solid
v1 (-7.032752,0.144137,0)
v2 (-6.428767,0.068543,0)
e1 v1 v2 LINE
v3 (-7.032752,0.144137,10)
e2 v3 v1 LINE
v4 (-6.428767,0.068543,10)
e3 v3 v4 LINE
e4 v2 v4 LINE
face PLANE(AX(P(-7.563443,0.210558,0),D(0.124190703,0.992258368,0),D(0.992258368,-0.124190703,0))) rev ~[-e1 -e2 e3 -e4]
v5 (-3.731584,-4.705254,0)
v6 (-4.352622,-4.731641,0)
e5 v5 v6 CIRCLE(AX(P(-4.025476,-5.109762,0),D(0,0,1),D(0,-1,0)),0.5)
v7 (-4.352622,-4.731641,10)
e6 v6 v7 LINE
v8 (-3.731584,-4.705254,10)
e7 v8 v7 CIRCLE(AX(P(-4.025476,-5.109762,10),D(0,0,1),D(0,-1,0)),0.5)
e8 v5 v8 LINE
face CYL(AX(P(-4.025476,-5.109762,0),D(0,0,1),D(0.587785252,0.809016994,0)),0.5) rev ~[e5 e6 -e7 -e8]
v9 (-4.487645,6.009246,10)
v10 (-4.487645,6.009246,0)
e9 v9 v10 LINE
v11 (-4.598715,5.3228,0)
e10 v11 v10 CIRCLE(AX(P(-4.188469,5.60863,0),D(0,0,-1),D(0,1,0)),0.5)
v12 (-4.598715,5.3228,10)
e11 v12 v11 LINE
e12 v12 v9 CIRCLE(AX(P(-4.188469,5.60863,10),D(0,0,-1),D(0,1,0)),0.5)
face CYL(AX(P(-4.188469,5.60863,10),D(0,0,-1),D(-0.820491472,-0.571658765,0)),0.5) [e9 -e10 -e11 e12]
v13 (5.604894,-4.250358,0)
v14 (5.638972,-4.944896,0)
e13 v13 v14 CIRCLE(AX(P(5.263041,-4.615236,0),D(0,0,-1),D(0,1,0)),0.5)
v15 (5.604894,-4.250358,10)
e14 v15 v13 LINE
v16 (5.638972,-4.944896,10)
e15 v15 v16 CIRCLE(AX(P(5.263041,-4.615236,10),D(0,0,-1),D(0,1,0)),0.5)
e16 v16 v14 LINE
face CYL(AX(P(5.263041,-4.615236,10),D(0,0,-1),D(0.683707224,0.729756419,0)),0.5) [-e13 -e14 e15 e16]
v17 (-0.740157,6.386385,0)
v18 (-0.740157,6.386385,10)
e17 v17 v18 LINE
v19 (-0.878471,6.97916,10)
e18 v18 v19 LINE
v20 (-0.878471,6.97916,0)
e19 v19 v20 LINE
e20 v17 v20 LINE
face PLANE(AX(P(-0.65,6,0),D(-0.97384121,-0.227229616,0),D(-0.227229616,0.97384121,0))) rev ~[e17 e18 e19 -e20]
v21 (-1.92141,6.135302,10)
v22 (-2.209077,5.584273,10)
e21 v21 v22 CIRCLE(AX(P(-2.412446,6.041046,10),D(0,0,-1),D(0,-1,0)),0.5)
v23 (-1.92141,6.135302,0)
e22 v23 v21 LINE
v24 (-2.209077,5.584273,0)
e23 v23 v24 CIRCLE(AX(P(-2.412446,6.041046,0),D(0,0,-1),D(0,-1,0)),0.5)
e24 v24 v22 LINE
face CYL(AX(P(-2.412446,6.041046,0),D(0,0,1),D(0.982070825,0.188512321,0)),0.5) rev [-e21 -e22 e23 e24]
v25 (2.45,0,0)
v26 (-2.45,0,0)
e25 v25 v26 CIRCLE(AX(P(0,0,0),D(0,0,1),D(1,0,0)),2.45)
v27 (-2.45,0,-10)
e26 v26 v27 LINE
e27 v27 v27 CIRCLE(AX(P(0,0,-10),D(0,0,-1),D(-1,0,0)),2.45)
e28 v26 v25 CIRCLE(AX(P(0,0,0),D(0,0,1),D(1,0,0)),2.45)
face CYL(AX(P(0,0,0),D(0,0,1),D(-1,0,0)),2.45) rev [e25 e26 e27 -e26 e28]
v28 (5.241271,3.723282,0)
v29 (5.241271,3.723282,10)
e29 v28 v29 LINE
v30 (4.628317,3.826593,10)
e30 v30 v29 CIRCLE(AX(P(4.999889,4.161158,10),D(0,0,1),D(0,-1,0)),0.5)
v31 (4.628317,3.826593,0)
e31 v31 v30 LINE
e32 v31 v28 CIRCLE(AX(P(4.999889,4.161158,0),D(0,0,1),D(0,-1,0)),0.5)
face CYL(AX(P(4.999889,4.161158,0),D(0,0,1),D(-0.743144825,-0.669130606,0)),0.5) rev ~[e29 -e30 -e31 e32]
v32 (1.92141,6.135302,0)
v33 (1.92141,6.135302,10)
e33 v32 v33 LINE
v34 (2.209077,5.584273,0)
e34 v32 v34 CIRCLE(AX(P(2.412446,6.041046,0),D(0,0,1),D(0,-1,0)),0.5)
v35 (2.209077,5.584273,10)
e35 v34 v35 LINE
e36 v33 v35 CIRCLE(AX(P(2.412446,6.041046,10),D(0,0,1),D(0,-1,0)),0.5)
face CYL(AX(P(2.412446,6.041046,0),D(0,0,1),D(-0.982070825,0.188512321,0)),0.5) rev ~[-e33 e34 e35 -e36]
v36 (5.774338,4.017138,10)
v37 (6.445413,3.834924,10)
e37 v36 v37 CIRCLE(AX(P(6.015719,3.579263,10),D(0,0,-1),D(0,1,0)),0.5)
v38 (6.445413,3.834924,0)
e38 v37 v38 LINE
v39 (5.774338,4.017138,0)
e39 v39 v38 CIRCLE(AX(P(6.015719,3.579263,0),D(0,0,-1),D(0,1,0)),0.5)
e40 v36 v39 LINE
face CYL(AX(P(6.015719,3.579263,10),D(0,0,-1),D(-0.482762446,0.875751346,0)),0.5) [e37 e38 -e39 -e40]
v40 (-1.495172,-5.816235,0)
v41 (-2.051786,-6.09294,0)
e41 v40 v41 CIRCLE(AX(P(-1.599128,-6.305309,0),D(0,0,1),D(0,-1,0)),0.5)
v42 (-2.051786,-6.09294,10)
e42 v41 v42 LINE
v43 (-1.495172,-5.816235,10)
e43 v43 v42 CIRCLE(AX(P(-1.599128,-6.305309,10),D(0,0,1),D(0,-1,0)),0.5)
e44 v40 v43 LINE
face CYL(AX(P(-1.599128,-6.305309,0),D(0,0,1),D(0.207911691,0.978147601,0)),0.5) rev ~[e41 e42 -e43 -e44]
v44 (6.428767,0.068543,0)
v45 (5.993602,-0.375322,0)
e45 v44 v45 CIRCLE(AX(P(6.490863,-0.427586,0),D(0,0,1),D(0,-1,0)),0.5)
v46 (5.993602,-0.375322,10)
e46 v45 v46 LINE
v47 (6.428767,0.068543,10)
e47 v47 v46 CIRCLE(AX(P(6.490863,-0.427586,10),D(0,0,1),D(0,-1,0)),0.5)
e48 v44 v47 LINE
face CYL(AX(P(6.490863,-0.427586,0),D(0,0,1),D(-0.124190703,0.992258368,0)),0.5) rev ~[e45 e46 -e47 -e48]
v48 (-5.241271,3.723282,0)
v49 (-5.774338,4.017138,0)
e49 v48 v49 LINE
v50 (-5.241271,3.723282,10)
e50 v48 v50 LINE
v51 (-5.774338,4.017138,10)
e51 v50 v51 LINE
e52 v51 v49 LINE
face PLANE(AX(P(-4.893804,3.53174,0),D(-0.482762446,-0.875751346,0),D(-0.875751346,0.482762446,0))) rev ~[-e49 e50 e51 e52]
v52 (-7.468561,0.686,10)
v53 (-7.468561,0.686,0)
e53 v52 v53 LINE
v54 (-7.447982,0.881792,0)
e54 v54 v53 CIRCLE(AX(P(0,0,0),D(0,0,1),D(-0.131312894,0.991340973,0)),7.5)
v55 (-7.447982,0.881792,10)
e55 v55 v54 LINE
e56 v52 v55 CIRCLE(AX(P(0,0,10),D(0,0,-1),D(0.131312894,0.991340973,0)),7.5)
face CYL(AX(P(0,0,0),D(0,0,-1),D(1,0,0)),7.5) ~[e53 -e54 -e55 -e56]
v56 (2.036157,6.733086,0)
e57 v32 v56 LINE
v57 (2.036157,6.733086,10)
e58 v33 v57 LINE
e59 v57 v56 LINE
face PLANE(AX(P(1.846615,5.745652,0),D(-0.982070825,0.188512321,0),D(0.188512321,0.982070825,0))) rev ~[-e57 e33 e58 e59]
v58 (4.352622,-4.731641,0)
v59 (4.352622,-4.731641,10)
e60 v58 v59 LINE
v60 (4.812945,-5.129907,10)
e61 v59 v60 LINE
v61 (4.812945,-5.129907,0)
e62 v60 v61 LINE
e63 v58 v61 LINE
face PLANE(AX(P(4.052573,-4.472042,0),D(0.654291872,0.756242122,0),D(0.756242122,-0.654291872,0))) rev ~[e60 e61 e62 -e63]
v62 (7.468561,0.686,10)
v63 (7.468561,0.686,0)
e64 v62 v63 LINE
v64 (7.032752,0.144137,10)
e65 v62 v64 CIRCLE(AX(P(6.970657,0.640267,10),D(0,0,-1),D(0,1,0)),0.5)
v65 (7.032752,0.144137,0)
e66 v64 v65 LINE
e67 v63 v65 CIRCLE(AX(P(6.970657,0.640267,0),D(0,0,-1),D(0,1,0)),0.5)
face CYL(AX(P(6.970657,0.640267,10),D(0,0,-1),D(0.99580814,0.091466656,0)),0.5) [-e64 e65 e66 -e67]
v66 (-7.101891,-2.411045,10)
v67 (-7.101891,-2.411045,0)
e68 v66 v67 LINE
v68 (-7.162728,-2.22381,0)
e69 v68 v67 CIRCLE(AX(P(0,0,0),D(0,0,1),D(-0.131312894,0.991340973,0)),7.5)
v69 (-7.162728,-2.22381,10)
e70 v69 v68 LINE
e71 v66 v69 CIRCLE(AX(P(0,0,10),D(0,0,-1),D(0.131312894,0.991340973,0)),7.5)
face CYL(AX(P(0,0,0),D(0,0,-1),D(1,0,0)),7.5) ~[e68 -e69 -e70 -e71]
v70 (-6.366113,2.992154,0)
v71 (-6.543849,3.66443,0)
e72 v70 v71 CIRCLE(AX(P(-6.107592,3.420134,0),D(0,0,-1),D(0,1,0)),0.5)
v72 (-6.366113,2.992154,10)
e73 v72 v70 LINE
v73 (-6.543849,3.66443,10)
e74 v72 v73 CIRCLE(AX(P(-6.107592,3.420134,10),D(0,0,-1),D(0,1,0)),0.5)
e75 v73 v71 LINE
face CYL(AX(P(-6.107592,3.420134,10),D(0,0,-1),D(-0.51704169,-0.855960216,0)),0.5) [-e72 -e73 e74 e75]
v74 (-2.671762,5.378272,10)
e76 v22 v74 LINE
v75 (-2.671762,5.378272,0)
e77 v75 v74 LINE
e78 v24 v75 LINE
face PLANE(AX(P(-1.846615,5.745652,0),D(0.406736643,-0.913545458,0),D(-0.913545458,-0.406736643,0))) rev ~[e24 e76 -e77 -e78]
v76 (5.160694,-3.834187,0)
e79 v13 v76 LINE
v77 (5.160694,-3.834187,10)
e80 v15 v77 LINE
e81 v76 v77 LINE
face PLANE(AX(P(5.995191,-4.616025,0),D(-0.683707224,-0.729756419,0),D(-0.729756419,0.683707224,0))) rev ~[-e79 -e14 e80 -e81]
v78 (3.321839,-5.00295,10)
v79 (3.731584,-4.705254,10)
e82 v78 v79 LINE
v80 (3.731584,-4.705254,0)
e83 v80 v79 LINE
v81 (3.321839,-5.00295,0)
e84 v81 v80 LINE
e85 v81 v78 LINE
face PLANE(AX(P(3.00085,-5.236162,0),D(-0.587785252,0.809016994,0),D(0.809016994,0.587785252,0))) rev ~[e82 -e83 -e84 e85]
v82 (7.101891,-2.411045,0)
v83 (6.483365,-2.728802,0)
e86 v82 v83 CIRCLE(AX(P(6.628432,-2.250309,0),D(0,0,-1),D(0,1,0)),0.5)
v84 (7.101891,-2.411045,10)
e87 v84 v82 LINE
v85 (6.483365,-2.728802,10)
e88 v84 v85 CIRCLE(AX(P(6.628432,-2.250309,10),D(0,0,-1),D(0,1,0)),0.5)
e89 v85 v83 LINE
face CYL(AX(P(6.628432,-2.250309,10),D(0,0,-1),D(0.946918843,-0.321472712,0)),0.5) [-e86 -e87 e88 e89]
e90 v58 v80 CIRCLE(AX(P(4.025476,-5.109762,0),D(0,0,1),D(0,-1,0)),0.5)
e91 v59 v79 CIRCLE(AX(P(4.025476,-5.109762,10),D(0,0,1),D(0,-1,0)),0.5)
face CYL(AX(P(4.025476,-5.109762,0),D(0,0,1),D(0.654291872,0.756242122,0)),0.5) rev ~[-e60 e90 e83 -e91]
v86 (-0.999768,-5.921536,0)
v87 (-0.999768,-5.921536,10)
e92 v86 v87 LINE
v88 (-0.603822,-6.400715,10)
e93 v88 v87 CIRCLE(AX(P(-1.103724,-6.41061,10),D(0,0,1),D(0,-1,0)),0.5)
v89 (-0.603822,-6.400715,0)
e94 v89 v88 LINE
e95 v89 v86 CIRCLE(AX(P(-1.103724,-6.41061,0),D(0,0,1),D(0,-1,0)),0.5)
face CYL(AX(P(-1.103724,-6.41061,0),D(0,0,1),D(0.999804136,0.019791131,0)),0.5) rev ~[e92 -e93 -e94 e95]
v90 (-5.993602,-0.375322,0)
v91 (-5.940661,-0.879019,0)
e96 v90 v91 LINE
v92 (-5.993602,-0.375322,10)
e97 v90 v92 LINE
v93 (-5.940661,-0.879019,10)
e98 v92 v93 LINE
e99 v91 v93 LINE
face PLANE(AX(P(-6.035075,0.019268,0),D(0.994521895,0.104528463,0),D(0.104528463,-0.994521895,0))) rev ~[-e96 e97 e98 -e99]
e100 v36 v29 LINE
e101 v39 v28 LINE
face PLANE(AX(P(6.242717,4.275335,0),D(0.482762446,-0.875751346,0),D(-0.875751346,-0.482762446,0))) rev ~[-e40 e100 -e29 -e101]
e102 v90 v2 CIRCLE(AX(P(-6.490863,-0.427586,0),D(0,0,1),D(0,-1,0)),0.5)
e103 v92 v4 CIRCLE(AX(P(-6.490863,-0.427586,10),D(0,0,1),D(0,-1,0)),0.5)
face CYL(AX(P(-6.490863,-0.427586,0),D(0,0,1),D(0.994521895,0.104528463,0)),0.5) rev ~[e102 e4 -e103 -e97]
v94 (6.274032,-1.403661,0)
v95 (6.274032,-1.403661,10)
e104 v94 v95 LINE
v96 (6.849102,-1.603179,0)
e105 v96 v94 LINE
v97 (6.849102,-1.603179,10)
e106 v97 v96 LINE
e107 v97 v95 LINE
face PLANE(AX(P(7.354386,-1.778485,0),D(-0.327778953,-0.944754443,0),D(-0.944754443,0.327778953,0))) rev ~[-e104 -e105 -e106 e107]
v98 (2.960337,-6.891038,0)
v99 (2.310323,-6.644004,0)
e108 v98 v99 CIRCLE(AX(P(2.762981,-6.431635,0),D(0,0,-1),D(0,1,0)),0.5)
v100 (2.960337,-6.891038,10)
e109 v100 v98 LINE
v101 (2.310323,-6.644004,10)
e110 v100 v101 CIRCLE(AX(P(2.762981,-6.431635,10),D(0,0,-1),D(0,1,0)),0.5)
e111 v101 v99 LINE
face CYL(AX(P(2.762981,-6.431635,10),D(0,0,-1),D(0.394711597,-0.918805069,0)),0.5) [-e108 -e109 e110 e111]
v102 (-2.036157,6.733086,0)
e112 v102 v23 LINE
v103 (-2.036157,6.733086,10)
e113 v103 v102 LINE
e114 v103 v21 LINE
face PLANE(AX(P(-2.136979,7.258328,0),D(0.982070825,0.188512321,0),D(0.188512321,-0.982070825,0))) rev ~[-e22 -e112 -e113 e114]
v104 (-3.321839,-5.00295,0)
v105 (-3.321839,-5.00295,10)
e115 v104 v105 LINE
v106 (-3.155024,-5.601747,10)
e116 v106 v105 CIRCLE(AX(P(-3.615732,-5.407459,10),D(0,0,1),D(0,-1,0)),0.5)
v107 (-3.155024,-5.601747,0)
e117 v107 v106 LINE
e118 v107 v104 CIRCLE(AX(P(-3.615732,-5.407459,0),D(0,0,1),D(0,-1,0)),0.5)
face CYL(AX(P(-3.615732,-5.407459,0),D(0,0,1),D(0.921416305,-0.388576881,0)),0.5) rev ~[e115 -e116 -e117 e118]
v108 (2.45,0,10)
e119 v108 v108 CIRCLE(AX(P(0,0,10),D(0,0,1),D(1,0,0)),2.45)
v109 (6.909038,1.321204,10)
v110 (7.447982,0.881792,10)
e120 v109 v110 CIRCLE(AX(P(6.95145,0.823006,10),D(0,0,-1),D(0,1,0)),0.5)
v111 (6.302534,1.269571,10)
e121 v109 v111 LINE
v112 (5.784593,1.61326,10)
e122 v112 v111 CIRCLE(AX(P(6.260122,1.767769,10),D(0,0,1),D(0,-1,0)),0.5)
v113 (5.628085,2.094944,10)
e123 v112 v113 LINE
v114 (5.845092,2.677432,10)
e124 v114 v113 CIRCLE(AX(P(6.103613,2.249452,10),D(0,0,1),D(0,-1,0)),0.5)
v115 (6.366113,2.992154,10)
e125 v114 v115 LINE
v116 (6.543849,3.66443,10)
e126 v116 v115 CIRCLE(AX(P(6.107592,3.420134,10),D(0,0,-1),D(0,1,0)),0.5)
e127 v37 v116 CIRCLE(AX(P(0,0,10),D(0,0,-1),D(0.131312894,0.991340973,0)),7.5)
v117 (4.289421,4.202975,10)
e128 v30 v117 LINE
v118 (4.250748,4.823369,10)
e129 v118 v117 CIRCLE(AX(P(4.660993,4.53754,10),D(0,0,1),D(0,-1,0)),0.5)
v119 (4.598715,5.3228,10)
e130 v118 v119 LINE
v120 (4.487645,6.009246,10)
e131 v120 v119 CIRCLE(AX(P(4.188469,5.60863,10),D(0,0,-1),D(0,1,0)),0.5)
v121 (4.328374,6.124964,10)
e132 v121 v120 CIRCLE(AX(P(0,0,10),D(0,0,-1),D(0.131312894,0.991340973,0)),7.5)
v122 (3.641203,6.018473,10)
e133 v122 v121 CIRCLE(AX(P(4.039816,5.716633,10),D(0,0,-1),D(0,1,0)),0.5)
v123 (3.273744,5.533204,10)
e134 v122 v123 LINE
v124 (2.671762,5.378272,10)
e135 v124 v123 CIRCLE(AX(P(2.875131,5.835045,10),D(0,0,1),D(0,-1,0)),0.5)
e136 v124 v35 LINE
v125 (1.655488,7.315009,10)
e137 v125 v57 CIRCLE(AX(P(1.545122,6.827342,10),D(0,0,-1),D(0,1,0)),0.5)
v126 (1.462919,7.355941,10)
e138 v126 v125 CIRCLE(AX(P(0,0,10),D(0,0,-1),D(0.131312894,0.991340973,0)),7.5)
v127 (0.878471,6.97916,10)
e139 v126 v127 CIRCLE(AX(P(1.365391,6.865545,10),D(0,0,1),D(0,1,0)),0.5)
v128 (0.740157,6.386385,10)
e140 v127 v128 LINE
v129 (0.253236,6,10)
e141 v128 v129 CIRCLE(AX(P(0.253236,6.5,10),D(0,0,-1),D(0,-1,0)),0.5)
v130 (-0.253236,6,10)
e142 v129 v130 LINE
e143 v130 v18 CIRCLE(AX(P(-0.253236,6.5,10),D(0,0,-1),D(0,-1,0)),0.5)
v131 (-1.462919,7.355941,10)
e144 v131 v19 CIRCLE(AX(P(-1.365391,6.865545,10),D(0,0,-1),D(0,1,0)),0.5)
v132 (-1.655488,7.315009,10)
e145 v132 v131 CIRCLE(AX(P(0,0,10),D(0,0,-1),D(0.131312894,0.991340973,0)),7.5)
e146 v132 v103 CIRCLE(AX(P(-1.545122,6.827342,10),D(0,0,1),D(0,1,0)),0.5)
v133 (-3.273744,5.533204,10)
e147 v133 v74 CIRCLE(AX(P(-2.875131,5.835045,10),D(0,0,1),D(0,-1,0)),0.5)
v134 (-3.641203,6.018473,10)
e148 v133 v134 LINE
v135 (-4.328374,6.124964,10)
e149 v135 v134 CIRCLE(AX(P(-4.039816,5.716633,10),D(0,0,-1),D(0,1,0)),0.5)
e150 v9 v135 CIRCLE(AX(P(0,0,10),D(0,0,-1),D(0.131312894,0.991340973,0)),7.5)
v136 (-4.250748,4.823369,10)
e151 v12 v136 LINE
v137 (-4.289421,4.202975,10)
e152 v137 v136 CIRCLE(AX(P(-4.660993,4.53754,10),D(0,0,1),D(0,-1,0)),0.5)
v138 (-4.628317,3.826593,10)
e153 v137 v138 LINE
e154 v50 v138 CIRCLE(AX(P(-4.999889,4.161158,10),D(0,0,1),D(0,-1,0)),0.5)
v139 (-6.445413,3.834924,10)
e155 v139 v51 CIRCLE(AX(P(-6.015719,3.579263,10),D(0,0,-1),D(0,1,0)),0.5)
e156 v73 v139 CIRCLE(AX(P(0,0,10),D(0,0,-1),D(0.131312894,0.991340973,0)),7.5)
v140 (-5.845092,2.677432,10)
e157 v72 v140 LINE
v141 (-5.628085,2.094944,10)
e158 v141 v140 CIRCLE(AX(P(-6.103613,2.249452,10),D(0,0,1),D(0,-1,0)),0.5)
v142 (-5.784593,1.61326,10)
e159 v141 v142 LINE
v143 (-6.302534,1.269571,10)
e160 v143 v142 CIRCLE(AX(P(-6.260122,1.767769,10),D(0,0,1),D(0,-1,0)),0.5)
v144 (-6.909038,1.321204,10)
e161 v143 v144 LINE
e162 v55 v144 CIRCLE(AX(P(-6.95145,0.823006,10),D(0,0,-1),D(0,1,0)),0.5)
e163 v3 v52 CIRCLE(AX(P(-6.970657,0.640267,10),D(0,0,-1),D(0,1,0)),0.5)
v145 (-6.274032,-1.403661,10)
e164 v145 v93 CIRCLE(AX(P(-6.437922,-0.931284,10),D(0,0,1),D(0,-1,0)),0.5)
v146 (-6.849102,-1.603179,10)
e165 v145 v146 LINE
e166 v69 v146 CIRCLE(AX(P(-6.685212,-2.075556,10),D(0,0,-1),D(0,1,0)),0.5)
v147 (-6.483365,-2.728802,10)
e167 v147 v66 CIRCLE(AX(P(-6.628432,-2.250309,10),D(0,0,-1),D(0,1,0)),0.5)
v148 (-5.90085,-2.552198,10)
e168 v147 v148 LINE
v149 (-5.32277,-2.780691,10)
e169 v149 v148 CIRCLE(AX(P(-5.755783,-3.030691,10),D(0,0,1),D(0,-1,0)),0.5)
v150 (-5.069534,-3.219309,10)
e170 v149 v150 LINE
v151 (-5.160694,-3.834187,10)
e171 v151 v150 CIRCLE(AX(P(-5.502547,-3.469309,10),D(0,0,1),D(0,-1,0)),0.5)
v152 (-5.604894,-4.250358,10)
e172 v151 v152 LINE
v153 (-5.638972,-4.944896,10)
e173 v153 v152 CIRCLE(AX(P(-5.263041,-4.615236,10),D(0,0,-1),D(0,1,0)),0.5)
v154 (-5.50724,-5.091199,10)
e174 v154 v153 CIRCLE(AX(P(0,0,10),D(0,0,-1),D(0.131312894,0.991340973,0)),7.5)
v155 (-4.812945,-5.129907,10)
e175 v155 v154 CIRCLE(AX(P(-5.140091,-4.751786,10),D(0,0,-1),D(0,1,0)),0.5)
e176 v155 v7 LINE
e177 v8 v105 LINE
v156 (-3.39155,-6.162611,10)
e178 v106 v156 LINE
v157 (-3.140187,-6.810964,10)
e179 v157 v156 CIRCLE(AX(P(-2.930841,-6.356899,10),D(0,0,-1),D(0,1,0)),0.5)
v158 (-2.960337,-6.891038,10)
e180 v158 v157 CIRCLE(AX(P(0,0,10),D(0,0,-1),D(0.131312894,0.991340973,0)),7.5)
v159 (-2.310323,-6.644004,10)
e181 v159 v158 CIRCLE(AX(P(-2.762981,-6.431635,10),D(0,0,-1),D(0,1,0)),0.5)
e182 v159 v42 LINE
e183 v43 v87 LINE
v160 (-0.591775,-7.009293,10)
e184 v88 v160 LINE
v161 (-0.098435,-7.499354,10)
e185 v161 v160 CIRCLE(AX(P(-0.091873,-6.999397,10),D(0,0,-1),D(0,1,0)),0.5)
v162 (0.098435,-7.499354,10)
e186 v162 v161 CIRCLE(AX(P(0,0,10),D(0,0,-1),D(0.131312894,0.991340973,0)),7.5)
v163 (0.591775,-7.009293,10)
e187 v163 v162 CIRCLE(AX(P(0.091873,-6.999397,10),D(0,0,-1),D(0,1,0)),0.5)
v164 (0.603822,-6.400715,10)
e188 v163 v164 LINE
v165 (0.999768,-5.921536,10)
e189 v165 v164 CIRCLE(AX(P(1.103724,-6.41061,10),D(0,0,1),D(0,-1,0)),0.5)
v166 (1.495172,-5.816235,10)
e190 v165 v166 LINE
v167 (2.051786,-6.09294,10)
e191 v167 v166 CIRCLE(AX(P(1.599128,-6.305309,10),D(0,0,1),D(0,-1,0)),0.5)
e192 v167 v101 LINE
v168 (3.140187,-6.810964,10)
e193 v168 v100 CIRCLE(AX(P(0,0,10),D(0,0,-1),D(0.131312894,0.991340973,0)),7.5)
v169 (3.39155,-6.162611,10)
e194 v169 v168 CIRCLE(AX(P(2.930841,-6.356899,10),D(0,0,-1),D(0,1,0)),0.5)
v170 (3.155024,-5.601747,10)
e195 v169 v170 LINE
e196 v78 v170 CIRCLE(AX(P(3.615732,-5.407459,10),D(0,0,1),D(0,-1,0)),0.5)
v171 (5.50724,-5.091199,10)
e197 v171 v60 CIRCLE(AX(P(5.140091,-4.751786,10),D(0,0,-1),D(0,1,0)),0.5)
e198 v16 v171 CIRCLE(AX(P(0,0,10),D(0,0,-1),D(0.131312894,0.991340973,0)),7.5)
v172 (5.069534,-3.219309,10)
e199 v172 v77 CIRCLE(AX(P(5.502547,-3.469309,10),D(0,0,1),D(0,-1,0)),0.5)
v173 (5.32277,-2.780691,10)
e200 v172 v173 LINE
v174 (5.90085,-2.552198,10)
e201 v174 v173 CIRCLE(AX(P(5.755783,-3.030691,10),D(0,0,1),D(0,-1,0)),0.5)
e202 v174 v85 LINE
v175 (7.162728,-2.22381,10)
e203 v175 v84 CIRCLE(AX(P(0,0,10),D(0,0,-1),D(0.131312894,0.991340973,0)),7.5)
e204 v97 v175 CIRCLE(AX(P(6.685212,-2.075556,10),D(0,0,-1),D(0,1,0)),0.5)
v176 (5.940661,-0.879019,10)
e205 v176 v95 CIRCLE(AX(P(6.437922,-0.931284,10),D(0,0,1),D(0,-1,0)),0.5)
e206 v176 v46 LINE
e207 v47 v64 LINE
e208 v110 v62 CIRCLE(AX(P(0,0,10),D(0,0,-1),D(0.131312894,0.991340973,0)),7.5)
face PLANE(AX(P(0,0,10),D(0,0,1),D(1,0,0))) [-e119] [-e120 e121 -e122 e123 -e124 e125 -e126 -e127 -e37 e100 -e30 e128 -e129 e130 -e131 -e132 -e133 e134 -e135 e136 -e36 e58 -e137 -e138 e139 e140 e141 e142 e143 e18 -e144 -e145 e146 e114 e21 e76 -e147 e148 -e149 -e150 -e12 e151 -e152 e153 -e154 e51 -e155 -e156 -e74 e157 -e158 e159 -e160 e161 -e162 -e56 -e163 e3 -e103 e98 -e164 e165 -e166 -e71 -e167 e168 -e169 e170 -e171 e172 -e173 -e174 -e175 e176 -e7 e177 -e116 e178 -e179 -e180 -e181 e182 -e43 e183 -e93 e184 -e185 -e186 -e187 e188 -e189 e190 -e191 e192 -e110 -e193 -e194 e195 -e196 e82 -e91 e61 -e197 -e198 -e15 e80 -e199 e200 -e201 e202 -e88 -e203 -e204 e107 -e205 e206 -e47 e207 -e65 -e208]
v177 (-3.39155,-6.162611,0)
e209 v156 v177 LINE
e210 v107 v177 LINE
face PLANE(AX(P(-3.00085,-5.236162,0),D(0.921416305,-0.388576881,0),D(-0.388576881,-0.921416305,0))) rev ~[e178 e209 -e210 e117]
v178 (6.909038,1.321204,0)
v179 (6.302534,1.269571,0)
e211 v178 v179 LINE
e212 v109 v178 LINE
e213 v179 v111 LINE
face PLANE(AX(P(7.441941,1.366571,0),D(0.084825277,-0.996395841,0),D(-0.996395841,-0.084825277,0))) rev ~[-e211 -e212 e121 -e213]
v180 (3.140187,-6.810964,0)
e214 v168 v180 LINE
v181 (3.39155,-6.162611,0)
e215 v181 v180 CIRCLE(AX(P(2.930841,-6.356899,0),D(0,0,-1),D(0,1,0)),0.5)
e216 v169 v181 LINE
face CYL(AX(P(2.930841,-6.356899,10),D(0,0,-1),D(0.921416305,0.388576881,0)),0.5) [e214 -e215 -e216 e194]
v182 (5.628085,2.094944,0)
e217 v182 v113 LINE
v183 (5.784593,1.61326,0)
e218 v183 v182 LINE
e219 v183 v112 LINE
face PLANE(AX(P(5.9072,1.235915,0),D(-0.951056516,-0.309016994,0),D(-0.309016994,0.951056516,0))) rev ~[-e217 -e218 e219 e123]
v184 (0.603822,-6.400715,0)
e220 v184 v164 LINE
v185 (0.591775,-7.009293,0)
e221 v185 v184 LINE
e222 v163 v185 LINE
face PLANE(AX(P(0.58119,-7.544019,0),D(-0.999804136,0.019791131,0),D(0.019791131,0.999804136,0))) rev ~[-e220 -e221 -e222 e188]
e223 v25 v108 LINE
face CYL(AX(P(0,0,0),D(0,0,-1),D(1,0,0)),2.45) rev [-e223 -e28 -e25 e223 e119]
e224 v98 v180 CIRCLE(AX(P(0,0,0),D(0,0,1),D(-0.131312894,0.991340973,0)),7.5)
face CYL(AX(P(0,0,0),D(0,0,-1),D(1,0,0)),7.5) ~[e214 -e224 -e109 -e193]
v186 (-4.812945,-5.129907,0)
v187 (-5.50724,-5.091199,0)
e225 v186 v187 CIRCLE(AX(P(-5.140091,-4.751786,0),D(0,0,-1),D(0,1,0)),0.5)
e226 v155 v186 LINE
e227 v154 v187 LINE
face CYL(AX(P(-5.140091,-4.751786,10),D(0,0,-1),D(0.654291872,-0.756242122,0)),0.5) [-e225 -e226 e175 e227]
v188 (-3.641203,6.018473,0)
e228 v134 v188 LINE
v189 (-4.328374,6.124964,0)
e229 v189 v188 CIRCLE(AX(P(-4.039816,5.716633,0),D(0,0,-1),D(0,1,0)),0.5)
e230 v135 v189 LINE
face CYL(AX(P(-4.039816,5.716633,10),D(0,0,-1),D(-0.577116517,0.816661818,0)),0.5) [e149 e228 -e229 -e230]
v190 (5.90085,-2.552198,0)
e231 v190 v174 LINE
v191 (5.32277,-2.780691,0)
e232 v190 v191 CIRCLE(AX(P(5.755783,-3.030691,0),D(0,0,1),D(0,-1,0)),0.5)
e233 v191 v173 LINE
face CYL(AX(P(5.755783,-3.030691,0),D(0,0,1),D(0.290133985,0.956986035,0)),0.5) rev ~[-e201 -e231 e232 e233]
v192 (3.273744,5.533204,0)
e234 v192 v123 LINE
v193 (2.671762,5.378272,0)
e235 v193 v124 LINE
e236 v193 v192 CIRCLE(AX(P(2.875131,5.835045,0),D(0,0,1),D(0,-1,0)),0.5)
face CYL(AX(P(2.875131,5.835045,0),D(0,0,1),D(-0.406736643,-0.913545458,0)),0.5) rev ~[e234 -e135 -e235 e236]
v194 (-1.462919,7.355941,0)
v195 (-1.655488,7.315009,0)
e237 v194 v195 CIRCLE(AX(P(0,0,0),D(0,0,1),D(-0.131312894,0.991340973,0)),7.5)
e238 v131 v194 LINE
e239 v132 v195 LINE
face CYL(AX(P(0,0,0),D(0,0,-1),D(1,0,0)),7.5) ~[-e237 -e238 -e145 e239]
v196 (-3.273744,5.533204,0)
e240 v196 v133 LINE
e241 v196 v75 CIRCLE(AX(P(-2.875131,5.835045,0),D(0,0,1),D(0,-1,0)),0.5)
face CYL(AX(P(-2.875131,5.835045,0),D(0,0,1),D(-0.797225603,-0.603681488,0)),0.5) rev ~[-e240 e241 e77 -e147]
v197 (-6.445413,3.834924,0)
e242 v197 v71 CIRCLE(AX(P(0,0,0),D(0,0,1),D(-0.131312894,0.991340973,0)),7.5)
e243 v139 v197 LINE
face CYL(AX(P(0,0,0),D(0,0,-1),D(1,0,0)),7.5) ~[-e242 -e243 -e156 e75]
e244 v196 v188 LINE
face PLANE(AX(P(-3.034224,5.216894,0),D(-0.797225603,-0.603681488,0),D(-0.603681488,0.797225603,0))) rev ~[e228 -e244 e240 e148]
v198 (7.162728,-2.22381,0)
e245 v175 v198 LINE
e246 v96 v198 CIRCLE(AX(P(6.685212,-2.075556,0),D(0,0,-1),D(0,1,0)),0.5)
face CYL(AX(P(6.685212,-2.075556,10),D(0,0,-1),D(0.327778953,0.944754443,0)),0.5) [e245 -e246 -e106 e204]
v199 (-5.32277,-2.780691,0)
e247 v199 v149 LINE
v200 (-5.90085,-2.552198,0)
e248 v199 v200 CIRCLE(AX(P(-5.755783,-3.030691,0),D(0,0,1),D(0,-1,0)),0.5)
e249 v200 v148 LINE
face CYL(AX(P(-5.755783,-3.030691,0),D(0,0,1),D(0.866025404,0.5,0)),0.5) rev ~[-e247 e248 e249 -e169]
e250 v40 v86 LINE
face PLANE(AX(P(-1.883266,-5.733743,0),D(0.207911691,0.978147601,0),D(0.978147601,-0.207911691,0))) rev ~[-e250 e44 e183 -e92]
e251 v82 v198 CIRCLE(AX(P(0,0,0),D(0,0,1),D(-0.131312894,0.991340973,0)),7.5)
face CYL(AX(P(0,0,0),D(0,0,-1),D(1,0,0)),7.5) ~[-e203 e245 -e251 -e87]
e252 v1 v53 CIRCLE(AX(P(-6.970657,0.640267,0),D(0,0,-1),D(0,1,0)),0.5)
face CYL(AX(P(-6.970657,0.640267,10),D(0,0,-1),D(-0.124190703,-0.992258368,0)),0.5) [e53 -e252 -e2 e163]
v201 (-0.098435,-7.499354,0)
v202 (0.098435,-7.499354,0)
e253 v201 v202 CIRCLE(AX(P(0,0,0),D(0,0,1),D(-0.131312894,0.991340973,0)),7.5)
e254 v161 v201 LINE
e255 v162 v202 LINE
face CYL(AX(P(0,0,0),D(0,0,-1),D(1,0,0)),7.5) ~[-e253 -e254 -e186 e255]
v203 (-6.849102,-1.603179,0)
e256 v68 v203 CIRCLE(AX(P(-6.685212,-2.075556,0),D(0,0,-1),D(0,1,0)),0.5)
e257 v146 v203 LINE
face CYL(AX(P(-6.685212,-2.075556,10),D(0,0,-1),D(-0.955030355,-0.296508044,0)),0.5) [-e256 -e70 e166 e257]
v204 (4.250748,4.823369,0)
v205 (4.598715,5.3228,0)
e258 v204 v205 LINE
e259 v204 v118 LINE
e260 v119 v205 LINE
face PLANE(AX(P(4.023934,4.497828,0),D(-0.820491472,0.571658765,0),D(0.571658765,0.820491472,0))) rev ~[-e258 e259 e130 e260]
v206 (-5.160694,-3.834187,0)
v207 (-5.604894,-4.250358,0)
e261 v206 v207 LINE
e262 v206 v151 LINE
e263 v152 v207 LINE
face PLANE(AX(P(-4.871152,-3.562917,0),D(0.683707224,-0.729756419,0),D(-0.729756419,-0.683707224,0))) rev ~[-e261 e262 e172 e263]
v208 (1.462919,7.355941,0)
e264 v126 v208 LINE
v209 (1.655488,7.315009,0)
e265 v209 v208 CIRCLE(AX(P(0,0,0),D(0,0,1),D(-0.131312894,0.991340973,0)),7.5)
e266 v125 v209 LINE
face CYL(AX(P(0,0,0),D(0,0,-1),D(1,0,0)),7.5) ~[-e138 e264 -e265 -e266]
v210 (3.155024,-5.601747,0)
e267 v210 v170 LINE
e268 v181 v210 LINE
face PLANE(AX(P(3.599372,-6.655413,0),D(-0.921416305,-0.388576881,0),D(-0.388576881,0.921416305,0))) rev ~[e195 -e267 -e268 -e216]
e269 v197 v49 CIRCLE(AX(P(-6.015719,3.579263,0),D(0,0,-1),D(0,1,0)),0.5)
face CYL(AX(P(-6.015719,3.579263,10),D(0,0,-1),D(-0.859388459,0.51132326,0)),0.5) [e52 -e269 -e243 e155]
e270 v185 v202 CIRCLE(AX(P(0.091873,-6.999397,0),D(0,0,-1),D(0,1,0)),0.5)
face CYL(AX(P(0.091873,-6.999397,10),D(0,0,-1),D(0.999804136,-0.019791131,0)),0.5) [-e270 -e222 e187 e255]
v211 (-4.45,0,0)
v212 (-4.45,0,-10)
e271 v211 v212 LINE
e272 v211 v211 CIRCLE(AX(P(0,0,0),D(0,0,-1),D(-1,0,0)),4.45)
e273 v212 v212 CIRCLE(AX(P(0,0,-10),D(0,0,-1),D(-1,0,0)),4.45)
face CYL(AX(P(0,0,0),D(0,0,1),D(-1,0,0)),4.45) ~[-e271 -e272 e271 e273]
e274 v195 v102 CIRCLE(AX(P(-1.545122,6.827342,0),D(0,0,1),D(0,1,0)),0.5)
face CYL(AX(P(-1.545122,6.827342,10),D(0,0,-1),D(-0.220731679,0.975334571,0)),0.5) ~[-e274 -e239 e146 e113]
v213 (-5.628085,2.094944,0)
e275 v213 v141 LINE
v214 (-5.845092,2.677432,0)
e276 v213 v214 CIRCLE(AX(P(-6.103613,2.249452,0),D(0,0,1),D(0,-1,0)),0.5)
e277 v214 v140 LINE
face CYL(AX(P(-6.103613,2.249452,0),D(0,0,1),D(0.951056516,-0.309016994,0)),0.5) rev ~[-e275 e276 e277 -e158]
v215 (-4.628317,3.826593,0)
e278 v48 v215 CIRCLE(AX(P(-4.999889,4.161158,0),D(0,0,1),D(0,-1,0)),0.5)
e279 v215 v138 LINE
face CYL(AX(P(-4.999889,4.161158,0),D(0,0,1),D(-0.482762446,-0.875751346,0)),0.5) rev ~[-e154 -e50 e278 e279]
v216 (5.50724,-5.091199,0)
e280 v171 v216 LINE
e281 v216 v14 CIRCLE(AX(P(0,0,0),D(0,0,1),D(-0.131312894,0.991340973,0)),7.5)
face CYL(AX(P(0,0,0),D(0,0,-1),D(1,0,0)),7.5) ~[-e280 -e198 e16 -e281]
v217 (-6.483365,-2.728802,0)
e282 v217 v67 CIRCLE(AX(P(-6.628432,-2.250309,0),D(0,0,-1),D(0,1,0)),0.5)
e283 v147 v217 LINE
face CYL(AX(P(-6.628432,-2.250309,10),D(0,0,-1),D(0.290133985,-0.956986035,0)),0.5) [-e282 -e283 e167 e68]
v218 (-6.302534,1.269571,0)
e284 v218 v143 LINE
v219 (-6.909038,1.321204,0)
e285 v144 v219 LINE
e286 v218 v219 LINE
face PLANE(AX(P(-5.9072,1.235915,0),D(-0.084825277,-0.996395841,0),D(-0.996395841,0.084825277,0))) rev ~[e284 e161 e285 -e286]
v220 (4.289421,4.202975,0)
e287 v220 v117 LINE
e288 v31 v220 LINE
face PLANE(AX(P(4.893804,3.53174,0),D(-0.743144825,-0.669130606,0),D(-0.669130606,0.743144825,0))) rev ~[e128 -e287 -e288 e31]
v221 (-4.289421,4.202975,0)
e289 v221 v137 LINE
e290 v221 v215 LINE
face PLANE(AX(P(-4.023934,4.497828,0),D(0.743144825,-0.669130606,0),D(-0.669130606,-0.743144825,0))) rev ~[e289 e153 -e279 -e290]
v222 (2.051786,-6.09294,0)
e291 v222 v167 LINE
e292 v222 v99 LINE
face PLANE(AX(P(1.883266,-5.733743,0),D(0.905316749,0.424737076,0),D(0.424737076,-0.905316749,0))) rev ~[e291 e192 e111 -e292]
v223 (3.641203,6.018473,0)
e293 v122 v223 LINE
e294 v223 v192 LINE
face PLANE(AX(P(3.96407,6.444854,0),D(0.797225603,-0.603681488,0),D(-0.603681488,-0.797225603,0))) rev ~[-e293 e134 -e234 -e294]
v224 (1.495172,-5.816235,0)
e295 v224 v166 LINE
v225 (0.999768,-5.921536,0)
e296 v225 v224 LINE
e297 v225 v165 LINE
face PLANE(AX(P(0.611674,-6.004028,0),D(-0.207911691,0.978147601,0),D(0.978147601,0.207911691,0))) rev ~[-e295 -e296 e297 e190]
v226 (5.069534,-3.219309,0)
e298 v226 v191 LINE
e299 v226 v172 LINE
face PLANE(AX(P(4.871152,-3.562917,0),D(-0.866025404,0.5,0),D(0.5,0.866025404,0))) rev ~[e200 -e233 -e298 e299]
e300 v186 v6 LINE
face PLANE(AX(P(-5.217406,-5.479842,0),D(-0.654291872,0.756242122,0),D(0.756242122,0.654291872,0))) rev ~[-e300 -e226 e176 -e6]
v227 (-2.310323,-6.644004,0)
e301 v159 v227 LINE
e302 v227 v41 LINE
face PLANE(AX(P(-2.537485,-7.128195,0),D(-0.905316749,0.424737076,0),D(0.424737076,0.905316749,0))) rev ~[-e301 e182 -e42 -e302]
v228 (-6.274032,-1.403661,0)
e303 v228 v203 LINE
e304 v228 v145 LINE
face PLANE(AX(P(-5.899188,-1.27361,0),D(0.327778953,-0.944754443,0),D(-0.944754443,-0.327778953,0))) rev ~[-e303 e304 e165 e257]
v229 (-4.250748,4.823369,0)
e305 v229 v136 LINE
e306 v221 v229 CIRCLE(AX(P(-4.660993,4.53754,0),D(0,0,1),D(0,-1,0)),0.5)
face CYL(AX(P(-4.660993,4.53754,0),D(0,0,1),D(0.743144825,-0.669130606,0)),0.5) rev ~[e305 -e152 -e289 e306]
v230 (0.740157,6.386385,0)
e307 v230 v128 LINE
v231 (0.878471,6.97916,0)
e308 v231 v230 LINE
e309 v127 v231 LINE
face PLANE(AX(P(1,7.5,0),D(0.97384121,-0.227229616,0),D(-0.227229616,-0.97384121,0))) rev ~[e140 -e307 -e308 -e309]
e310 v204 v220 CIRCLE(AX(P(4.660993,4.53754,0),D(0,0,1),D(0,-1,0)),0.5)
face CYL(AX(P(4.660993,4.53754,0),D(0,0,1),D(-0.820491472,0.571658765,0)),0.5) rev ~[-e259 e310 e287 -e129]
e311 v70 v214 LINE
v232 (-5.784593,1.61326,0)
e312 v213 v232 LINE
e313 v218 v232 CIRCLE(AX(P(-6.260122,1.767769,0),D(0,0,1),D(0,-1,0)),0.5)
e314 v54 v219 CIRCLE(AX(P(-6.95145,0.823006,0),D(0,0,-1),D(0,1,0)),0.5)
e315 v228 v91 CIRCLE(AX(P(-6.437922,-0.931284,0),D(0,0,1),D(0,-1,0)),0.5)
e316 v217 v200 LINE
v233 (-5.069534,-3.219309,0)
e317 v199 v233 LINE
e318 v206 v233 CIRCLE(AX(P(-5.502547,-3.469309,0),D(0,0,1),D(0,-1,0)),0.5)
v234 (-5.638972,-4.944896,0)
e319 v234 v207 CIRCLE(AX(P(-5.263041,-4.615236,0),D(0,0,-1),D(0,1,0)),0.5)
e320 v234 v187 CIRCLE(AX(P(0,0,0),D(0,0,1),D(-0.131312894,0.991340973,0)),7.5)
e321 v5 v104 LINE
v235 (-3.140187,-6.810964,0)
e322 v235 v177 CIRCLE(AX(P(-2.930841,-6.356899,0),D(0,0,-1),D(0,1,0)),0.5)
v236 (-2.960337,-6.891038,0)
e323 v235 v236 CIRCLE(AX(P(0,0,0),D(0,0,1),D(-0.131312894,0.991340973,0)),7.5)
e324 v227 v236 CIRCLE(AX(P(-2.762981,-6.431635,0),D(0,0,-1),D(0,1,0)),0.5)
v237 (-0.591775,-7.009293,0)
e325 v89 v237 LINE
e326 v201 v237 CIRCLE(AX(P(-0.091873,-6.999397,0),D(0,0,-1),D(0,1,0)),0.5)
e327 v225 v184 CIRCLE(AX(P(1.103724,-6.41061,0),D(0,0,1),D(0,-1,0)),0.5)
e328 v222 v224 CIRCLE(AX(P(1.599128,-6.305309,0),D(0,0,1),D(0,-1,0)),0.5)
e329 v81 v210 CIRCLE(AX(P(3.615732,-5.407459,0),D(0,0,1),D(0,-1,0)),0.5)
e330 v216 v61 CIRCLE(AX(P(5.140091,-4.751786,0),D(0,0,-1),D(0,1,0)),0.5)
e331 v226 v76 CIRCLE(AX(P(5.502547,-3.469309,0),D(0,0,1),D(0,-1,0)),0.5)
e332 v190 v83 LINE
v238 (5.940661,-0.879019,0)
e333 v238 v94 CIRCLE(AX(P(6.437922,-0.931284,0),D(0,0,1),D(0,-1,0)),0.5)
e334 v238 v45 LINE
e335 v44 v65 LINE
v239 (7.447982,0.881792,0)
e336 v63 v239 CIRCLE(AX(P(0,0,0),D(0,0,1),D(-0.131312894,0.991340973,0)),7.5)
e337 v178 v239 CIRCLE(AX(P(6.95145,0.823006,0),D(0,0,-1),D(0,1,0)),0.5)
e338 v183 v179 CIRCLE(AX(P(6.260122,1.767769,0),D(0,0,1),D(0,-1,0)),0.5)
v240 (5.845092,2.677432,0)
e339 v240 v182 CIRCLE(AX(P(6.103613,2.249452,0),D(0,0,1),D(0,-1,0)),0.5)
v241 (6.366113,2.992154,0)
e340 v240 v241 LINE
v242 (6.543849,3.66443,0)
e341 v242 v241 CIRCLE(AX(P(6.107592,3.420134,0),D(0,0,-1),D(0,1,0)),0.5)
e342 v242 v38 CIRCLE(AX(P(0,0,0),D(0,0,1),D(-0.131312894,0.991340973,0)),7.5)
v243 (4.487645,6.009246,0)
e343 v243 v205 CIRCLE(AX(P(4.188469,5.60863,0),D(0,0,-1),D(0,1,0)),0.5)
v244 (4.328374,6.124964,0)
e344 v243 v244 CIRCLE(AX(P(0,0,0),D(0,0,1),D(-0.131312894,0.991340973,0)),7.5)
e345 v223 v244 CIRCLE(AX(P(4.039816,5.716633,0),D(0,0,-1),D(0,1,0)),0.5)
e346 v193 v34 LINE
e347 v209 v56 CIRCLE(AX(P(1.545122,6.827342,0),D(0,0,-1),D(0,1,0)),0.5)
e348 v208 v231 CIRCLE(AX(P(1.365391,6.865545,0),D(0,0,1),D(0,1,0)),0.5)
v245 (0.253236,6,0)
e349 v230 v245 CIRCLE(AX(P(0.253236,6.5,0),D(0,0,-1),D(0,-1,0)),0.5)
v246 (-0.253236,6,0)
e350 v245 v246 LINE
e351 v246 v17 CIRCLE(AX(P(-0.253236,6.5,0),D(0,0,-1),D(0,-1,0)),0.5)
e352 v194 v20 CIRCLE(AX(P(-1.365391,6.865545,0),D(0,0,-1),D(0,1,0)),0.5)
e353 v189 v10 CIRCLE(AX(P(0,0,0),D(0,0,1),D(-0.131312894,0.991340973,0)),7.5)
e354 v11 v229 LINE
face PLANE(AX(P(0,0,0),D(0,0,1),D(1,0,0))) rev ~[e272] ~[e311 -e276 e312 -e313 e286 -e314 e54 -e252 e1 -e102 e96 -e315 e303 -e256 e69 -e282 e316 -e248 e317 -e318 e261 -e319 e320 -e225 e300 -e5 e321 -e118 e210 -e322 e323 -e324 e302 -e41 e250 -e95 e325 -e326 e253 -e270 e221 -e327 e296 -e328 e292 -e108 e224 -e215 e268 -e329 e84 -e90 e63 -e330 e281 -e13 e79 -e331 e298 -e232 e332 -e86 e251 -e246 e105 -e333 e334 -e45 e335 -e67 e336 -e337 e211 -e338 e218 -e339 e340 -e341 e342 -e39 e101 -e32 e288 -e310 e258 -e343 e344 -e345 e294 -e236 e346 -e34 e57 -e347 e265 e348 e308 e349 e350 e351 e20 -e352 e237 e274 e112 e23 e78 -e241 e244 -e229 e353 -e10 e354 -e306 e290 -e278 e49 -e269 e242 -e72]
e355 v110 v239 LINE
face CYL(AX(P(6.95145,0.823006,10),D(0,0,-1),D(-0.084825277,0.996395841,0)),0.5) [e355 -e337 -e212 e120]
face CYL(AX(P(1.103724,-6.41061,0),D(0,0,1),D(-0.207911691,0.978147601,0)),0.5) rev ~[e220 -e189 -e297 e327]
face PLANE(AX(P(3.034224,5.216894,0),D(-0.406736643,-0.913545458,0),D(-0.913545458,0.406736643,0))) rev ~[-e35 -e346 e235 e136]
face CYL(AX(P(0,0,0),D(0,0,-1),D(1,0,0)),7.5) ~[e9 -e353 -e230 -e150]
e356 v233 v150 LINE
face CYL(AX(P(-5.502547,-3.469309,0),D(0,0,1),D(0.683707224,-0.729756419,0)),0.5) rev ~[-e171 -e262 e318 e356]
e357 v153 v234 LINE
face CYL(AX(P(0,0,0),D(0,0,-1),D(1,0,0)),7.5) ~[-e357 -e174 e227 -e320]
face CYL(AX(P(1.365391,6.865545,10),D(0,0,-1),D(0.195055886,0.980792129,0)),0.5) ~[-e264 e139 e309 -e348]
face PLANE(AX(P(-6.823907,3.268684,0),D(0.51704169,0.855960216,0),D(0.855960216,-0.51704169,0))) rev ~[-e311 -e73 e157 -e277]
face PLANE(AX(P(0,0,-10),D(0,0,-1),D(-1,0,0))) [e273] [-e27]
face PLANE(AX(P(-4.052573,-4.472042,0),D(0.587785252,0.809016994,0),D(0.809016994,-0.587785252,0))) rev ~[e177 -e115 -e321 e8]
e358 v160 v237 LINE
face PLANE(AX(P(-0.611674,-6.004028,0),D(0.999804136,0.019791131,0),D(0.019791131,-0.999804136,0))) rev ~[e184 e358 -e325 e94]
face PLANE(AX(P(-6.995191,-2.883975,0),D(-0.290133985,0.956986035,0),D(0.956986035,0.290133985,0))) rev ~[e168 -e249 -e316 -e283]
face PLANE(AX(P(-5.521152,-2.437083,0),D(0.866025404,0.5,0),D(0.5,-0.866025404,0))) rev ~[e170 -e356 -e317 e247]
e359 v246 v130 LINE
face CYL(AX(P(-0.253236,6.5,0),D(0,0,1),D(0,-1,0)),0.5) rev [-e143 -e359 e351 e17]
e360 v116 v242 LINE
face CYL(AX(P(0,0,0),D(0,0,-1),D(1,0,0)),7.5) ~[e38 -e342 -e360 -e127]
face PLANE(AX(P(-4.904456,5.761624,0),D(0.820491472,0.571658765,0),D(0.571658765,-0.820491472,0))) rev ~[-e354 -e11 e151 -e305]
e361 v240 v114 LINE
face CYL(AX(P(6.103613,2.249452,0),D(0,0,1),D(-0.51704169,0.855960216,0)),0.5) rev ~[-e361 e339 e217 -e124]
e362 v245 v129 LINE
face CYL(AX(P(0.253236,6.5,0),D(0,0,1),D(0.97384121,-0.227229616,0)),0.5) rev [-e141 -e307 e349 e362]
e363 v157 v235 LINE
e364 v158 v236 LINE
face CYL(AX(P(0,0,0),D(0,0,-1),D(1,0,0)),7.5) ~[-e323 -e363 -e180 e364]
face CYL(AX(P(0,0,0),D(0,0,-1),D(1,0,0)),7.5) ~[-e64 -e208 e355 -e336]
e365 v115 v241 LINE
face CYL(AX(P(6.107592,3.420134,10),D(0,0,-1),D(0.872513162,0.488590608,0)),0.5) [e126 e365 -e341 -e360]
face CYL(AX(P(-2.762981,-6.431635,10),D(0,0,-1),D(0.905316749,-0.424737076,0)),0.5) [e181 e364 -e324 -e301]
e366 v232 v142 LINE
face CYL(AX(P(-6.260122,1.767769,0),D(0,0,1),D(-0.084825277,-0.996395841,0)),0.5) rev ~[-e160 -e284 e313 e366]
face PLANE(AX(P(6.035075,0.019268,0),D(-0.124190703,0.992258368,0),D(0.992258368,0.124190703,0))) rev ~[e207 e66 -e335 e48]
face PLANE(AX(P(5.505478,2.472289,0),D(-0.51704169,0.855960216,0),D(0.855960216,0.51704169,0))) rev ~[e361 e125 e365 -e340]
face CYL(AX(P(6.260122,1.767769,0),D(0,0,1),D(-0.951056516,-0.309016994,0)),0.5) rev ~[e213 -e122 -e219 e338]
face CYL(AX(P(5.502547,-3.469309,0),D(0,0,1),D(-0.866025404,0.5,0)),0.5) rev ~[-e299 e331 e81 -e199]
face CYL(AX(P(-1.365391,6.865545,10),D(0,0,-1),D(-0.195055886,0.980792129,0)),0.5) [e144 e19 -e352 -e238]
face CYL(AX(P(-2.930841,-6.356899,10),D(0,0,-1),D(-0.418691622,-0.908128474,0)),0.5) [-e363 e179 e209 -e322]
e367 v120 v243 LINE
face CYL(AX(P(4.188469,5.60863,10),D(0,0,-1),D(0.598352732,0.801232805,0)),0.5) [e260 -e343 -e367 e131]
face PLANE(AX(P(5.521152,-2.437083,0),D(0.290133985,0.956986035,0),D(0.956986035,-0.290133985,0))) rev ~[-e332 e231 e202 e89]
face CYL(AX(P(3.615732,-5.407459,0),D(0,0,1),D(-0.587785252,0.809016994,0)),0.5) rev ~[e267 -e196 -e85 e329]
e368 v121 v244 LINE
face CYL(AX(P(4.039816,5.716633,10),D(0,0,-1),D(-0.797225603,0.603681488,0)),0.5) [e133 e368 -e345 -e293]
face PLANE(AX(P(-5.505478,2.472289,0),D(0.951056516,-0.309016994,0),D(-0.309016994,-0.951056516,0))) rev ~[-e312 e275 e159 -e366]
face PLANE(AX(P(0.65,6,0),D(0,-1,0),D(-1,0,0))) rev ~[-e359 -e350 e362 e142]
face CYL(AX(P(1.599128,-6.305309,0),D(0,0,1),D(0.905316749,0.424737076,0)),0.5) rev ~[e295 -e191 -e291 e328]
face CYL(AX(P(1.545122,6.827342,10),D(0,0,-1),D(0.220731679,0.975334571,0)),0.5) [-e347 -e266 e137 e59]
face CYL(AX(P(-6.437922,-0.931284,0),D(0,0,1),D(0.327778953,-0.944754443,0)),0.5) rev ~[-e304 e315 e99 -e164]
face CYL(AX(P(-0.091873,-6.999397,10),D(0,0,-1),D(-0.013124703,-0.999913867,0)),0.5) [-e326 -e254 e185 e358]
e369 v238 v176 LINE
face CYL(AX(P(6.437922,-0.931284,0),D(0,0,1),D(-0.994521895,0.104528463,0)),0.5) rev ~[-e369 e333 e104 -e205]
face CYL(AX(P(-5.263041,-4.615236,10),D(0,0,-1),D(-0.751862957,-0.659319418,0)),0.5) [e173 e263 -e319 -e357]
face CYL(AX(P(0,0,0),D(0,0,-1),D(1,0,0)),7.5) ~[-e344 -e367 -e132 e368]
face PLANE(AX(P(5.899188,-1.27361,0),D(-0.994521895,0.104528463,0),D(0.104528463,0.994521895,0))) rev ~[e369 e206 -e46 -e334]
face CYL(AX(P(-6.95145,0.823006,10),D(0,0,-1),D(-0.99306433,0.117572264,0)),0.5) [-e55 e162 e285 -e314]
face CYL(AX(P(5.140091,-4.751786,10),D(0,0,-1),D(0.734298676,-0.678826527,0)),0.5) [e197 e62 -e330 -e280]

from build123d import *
from build123d.topology import SkipClean

# Parameters (mm, degrees)
SKETCH1_R                = 7.5
SKETCH1_R_2              = 2.45
BOSS_EXTRUDE1_DEPTH      = 10
CUT_EXTRUDE1_DEPTH       = 10
FILLET1_R                = 0.5
CIRPATTERN1_COUNT        = 15
FILLET1_OF_CIRPATTERN1_R = 0.5
BOSS_EXTRUDE2_START      = 10
SKETCH3_R                = 4.45
SKETCH3_R_2              = 2.45
BOSS_EXTRUDE2_DEPTH      = 10


with BuildPart() as part:
    # Sketch1 → Boss-Extrude1 (new body)
    with BuildSketch(Plane.XY):
        Circle(SKETCH1_R)
        Circle(SKETCH1_R_2, mode=Mode.SUBTRACT)
    extrude(amount=BOSS_EXTRUDE1_DEPTH)

    # Sketch2 → Cut-Extrude1 (cut)
    with BuildSketch(Plane(origin=(0, 0, 0), x_dir=(-1, 0, 0), z_dir=(0, 0, -1))):
        Polygon((-0.65, 6), (0.65, 6), (1, 7.5), (-1, 7.5), align=None)
    cut_extrude1 = extrude(amount=-CUT_EXTRUDE1_DEPTH, mode=Mode.SUBTRACT)

    # Fillet1
    fillet1_edges = [part.edges().sort_by_distance(p)[0] for p in [
        (-0.984846702, 7.435057295, 5),
        (-0.65, 6, 5),
        (0.65, 6, 5),
        (0.984846702, 7.435057295, 5),
    ]]
    fillet(fillet1_edges, radius=FILLET1_R)

    # CirPattern1: Cut-Extrude1 ×15 about axis
    cirpattern1_axis = Axis((0, 0, 10), (0, 0, -1))
    for i in range(1, CIRPATTERN1_COUNT):
        add(cut_extrude1.rotate(cirpattern1_axis, i * 360 / CIRPATTERN1_COUNT), mode=Mode.SUBTRACT)

    # Fillet1 of CirPattern1
    fillet1_of_cirpattern1_edges = [part.edges().sort_by_distance(p)[0] for p in [
        (2.124408014, 7.19283606, 5),
        (1.846615311, 5.745651564, 5),
        (3.034224406, 5.216893928, 5),
        (3.923812476, 6.391689577, 5),
        (4.866333285, 5.706908126, 5),
        (4.023934059, 4.497827775, 5),
        (4.893803847, 3.531739502, 5),
        (6.184315427, 4.243140665, 5),
        (6.766825321, 3.234203932, 5),
        (5.505478051, 2.472288702, 5),
        (5.907200144, 1.235915231, 5),
        (7.375494057, 1.360914185, 5),
        (7.497271785, 0.202276495, 5),
        (6.035074873, 0.019268452, 5),
        (5.899187871, -1.273610012, 5),
        (7.29138276, -1.756626722, 5),
        (6.931371847, -2.864626384, 5),
        (5.521152423, -2.437083488, 5),
        (4.871152423, -3.562916512, 5),
        (5.946525145, -4.57043091, 5),
        (5.166974747, -5.436209338, 5),
        (4.05257256, -4.472041552, 5),
        (3.000850467, -5.23616238, 5),
        (3.573459309, -6.593966073, 5),
        (2.509160772, -7.067822311, 5),
        (1.883266085, -5.733743005, 5),
        (0.611674204, -6.004028203, 5),
        (0.582509895, -7.477344597, 5),
        (-0.582509895, -7.477344597, 5),
        (-0.611674204, -6.004028203, 5),
        (-1.883266085, -5.733743005, 5),
        (-2.509160772, -7.067822311, 5),
        (-3.573459309, -6.593966073, 5),
        (-3.000850467, -5.23616238, 5),
        (-4.05257256, -4.472041552, 5),
        (-5.166974747, -5.436209338, 5),
        (-5.946525145, -4.57043091, 5),
        (-4.871152423, -3.562916512, 5),
        (-5.521152423, -2.437083488, 5),
        (-6.931371847, -2.864626384, 5),
        (-7.29138276, -1.756626722, 5),
        (-5.899187871, -1.273610012, 5),
        (-6.035074873, 0.019268452, 5),
        (-7.497271785, 0.202276495, 5),
        (-7.375494057, 1.360914185, 5),
        (-5.907200144, 1.235915231, 5),
        (-5.505478051, 2.472288702, 5),
        (-6.766825321, 3.234203932, 5),
        (-6.184315427, 4.243140665, 5),
        (-4.893803847, 3.531739502, 5),
        (-4.023934059, 4.497827775, 5),
        (-4.866333285, 5.706908126, 5),
        (-3.923812476, 6.391689577, 5),
        (-3.034224406, 5.216893928, 5),
        (-1.846615311, 5.745651564, 5),
        (-2.124408014, 7.19283606, 5),
    ]]
    fillet(fillet1_of_cirpattern1_edges, radius=FILLET1_OF_CIRPATTERN1_R)

    # Sketch3 → Boss-Extrude2 (add)
    with SkipClean():  # the faces are left unmerged after this step: merging them gives an invalid solid
        with BuildSketch(Plane(origin=(0, 0, 0), x_dir=(-1, 0, 0), z_dir=(0, 0, -1)).offset(BOSS_EXTRUDE2_START)):
            Circle(SKETCH3_R)
            Circle(SKETCH3_R_2, mode=Mode.SUBTRACT)
        extrude(amount=-BOSS_EXTRUDE2_DEPTH)


solid = part.part
